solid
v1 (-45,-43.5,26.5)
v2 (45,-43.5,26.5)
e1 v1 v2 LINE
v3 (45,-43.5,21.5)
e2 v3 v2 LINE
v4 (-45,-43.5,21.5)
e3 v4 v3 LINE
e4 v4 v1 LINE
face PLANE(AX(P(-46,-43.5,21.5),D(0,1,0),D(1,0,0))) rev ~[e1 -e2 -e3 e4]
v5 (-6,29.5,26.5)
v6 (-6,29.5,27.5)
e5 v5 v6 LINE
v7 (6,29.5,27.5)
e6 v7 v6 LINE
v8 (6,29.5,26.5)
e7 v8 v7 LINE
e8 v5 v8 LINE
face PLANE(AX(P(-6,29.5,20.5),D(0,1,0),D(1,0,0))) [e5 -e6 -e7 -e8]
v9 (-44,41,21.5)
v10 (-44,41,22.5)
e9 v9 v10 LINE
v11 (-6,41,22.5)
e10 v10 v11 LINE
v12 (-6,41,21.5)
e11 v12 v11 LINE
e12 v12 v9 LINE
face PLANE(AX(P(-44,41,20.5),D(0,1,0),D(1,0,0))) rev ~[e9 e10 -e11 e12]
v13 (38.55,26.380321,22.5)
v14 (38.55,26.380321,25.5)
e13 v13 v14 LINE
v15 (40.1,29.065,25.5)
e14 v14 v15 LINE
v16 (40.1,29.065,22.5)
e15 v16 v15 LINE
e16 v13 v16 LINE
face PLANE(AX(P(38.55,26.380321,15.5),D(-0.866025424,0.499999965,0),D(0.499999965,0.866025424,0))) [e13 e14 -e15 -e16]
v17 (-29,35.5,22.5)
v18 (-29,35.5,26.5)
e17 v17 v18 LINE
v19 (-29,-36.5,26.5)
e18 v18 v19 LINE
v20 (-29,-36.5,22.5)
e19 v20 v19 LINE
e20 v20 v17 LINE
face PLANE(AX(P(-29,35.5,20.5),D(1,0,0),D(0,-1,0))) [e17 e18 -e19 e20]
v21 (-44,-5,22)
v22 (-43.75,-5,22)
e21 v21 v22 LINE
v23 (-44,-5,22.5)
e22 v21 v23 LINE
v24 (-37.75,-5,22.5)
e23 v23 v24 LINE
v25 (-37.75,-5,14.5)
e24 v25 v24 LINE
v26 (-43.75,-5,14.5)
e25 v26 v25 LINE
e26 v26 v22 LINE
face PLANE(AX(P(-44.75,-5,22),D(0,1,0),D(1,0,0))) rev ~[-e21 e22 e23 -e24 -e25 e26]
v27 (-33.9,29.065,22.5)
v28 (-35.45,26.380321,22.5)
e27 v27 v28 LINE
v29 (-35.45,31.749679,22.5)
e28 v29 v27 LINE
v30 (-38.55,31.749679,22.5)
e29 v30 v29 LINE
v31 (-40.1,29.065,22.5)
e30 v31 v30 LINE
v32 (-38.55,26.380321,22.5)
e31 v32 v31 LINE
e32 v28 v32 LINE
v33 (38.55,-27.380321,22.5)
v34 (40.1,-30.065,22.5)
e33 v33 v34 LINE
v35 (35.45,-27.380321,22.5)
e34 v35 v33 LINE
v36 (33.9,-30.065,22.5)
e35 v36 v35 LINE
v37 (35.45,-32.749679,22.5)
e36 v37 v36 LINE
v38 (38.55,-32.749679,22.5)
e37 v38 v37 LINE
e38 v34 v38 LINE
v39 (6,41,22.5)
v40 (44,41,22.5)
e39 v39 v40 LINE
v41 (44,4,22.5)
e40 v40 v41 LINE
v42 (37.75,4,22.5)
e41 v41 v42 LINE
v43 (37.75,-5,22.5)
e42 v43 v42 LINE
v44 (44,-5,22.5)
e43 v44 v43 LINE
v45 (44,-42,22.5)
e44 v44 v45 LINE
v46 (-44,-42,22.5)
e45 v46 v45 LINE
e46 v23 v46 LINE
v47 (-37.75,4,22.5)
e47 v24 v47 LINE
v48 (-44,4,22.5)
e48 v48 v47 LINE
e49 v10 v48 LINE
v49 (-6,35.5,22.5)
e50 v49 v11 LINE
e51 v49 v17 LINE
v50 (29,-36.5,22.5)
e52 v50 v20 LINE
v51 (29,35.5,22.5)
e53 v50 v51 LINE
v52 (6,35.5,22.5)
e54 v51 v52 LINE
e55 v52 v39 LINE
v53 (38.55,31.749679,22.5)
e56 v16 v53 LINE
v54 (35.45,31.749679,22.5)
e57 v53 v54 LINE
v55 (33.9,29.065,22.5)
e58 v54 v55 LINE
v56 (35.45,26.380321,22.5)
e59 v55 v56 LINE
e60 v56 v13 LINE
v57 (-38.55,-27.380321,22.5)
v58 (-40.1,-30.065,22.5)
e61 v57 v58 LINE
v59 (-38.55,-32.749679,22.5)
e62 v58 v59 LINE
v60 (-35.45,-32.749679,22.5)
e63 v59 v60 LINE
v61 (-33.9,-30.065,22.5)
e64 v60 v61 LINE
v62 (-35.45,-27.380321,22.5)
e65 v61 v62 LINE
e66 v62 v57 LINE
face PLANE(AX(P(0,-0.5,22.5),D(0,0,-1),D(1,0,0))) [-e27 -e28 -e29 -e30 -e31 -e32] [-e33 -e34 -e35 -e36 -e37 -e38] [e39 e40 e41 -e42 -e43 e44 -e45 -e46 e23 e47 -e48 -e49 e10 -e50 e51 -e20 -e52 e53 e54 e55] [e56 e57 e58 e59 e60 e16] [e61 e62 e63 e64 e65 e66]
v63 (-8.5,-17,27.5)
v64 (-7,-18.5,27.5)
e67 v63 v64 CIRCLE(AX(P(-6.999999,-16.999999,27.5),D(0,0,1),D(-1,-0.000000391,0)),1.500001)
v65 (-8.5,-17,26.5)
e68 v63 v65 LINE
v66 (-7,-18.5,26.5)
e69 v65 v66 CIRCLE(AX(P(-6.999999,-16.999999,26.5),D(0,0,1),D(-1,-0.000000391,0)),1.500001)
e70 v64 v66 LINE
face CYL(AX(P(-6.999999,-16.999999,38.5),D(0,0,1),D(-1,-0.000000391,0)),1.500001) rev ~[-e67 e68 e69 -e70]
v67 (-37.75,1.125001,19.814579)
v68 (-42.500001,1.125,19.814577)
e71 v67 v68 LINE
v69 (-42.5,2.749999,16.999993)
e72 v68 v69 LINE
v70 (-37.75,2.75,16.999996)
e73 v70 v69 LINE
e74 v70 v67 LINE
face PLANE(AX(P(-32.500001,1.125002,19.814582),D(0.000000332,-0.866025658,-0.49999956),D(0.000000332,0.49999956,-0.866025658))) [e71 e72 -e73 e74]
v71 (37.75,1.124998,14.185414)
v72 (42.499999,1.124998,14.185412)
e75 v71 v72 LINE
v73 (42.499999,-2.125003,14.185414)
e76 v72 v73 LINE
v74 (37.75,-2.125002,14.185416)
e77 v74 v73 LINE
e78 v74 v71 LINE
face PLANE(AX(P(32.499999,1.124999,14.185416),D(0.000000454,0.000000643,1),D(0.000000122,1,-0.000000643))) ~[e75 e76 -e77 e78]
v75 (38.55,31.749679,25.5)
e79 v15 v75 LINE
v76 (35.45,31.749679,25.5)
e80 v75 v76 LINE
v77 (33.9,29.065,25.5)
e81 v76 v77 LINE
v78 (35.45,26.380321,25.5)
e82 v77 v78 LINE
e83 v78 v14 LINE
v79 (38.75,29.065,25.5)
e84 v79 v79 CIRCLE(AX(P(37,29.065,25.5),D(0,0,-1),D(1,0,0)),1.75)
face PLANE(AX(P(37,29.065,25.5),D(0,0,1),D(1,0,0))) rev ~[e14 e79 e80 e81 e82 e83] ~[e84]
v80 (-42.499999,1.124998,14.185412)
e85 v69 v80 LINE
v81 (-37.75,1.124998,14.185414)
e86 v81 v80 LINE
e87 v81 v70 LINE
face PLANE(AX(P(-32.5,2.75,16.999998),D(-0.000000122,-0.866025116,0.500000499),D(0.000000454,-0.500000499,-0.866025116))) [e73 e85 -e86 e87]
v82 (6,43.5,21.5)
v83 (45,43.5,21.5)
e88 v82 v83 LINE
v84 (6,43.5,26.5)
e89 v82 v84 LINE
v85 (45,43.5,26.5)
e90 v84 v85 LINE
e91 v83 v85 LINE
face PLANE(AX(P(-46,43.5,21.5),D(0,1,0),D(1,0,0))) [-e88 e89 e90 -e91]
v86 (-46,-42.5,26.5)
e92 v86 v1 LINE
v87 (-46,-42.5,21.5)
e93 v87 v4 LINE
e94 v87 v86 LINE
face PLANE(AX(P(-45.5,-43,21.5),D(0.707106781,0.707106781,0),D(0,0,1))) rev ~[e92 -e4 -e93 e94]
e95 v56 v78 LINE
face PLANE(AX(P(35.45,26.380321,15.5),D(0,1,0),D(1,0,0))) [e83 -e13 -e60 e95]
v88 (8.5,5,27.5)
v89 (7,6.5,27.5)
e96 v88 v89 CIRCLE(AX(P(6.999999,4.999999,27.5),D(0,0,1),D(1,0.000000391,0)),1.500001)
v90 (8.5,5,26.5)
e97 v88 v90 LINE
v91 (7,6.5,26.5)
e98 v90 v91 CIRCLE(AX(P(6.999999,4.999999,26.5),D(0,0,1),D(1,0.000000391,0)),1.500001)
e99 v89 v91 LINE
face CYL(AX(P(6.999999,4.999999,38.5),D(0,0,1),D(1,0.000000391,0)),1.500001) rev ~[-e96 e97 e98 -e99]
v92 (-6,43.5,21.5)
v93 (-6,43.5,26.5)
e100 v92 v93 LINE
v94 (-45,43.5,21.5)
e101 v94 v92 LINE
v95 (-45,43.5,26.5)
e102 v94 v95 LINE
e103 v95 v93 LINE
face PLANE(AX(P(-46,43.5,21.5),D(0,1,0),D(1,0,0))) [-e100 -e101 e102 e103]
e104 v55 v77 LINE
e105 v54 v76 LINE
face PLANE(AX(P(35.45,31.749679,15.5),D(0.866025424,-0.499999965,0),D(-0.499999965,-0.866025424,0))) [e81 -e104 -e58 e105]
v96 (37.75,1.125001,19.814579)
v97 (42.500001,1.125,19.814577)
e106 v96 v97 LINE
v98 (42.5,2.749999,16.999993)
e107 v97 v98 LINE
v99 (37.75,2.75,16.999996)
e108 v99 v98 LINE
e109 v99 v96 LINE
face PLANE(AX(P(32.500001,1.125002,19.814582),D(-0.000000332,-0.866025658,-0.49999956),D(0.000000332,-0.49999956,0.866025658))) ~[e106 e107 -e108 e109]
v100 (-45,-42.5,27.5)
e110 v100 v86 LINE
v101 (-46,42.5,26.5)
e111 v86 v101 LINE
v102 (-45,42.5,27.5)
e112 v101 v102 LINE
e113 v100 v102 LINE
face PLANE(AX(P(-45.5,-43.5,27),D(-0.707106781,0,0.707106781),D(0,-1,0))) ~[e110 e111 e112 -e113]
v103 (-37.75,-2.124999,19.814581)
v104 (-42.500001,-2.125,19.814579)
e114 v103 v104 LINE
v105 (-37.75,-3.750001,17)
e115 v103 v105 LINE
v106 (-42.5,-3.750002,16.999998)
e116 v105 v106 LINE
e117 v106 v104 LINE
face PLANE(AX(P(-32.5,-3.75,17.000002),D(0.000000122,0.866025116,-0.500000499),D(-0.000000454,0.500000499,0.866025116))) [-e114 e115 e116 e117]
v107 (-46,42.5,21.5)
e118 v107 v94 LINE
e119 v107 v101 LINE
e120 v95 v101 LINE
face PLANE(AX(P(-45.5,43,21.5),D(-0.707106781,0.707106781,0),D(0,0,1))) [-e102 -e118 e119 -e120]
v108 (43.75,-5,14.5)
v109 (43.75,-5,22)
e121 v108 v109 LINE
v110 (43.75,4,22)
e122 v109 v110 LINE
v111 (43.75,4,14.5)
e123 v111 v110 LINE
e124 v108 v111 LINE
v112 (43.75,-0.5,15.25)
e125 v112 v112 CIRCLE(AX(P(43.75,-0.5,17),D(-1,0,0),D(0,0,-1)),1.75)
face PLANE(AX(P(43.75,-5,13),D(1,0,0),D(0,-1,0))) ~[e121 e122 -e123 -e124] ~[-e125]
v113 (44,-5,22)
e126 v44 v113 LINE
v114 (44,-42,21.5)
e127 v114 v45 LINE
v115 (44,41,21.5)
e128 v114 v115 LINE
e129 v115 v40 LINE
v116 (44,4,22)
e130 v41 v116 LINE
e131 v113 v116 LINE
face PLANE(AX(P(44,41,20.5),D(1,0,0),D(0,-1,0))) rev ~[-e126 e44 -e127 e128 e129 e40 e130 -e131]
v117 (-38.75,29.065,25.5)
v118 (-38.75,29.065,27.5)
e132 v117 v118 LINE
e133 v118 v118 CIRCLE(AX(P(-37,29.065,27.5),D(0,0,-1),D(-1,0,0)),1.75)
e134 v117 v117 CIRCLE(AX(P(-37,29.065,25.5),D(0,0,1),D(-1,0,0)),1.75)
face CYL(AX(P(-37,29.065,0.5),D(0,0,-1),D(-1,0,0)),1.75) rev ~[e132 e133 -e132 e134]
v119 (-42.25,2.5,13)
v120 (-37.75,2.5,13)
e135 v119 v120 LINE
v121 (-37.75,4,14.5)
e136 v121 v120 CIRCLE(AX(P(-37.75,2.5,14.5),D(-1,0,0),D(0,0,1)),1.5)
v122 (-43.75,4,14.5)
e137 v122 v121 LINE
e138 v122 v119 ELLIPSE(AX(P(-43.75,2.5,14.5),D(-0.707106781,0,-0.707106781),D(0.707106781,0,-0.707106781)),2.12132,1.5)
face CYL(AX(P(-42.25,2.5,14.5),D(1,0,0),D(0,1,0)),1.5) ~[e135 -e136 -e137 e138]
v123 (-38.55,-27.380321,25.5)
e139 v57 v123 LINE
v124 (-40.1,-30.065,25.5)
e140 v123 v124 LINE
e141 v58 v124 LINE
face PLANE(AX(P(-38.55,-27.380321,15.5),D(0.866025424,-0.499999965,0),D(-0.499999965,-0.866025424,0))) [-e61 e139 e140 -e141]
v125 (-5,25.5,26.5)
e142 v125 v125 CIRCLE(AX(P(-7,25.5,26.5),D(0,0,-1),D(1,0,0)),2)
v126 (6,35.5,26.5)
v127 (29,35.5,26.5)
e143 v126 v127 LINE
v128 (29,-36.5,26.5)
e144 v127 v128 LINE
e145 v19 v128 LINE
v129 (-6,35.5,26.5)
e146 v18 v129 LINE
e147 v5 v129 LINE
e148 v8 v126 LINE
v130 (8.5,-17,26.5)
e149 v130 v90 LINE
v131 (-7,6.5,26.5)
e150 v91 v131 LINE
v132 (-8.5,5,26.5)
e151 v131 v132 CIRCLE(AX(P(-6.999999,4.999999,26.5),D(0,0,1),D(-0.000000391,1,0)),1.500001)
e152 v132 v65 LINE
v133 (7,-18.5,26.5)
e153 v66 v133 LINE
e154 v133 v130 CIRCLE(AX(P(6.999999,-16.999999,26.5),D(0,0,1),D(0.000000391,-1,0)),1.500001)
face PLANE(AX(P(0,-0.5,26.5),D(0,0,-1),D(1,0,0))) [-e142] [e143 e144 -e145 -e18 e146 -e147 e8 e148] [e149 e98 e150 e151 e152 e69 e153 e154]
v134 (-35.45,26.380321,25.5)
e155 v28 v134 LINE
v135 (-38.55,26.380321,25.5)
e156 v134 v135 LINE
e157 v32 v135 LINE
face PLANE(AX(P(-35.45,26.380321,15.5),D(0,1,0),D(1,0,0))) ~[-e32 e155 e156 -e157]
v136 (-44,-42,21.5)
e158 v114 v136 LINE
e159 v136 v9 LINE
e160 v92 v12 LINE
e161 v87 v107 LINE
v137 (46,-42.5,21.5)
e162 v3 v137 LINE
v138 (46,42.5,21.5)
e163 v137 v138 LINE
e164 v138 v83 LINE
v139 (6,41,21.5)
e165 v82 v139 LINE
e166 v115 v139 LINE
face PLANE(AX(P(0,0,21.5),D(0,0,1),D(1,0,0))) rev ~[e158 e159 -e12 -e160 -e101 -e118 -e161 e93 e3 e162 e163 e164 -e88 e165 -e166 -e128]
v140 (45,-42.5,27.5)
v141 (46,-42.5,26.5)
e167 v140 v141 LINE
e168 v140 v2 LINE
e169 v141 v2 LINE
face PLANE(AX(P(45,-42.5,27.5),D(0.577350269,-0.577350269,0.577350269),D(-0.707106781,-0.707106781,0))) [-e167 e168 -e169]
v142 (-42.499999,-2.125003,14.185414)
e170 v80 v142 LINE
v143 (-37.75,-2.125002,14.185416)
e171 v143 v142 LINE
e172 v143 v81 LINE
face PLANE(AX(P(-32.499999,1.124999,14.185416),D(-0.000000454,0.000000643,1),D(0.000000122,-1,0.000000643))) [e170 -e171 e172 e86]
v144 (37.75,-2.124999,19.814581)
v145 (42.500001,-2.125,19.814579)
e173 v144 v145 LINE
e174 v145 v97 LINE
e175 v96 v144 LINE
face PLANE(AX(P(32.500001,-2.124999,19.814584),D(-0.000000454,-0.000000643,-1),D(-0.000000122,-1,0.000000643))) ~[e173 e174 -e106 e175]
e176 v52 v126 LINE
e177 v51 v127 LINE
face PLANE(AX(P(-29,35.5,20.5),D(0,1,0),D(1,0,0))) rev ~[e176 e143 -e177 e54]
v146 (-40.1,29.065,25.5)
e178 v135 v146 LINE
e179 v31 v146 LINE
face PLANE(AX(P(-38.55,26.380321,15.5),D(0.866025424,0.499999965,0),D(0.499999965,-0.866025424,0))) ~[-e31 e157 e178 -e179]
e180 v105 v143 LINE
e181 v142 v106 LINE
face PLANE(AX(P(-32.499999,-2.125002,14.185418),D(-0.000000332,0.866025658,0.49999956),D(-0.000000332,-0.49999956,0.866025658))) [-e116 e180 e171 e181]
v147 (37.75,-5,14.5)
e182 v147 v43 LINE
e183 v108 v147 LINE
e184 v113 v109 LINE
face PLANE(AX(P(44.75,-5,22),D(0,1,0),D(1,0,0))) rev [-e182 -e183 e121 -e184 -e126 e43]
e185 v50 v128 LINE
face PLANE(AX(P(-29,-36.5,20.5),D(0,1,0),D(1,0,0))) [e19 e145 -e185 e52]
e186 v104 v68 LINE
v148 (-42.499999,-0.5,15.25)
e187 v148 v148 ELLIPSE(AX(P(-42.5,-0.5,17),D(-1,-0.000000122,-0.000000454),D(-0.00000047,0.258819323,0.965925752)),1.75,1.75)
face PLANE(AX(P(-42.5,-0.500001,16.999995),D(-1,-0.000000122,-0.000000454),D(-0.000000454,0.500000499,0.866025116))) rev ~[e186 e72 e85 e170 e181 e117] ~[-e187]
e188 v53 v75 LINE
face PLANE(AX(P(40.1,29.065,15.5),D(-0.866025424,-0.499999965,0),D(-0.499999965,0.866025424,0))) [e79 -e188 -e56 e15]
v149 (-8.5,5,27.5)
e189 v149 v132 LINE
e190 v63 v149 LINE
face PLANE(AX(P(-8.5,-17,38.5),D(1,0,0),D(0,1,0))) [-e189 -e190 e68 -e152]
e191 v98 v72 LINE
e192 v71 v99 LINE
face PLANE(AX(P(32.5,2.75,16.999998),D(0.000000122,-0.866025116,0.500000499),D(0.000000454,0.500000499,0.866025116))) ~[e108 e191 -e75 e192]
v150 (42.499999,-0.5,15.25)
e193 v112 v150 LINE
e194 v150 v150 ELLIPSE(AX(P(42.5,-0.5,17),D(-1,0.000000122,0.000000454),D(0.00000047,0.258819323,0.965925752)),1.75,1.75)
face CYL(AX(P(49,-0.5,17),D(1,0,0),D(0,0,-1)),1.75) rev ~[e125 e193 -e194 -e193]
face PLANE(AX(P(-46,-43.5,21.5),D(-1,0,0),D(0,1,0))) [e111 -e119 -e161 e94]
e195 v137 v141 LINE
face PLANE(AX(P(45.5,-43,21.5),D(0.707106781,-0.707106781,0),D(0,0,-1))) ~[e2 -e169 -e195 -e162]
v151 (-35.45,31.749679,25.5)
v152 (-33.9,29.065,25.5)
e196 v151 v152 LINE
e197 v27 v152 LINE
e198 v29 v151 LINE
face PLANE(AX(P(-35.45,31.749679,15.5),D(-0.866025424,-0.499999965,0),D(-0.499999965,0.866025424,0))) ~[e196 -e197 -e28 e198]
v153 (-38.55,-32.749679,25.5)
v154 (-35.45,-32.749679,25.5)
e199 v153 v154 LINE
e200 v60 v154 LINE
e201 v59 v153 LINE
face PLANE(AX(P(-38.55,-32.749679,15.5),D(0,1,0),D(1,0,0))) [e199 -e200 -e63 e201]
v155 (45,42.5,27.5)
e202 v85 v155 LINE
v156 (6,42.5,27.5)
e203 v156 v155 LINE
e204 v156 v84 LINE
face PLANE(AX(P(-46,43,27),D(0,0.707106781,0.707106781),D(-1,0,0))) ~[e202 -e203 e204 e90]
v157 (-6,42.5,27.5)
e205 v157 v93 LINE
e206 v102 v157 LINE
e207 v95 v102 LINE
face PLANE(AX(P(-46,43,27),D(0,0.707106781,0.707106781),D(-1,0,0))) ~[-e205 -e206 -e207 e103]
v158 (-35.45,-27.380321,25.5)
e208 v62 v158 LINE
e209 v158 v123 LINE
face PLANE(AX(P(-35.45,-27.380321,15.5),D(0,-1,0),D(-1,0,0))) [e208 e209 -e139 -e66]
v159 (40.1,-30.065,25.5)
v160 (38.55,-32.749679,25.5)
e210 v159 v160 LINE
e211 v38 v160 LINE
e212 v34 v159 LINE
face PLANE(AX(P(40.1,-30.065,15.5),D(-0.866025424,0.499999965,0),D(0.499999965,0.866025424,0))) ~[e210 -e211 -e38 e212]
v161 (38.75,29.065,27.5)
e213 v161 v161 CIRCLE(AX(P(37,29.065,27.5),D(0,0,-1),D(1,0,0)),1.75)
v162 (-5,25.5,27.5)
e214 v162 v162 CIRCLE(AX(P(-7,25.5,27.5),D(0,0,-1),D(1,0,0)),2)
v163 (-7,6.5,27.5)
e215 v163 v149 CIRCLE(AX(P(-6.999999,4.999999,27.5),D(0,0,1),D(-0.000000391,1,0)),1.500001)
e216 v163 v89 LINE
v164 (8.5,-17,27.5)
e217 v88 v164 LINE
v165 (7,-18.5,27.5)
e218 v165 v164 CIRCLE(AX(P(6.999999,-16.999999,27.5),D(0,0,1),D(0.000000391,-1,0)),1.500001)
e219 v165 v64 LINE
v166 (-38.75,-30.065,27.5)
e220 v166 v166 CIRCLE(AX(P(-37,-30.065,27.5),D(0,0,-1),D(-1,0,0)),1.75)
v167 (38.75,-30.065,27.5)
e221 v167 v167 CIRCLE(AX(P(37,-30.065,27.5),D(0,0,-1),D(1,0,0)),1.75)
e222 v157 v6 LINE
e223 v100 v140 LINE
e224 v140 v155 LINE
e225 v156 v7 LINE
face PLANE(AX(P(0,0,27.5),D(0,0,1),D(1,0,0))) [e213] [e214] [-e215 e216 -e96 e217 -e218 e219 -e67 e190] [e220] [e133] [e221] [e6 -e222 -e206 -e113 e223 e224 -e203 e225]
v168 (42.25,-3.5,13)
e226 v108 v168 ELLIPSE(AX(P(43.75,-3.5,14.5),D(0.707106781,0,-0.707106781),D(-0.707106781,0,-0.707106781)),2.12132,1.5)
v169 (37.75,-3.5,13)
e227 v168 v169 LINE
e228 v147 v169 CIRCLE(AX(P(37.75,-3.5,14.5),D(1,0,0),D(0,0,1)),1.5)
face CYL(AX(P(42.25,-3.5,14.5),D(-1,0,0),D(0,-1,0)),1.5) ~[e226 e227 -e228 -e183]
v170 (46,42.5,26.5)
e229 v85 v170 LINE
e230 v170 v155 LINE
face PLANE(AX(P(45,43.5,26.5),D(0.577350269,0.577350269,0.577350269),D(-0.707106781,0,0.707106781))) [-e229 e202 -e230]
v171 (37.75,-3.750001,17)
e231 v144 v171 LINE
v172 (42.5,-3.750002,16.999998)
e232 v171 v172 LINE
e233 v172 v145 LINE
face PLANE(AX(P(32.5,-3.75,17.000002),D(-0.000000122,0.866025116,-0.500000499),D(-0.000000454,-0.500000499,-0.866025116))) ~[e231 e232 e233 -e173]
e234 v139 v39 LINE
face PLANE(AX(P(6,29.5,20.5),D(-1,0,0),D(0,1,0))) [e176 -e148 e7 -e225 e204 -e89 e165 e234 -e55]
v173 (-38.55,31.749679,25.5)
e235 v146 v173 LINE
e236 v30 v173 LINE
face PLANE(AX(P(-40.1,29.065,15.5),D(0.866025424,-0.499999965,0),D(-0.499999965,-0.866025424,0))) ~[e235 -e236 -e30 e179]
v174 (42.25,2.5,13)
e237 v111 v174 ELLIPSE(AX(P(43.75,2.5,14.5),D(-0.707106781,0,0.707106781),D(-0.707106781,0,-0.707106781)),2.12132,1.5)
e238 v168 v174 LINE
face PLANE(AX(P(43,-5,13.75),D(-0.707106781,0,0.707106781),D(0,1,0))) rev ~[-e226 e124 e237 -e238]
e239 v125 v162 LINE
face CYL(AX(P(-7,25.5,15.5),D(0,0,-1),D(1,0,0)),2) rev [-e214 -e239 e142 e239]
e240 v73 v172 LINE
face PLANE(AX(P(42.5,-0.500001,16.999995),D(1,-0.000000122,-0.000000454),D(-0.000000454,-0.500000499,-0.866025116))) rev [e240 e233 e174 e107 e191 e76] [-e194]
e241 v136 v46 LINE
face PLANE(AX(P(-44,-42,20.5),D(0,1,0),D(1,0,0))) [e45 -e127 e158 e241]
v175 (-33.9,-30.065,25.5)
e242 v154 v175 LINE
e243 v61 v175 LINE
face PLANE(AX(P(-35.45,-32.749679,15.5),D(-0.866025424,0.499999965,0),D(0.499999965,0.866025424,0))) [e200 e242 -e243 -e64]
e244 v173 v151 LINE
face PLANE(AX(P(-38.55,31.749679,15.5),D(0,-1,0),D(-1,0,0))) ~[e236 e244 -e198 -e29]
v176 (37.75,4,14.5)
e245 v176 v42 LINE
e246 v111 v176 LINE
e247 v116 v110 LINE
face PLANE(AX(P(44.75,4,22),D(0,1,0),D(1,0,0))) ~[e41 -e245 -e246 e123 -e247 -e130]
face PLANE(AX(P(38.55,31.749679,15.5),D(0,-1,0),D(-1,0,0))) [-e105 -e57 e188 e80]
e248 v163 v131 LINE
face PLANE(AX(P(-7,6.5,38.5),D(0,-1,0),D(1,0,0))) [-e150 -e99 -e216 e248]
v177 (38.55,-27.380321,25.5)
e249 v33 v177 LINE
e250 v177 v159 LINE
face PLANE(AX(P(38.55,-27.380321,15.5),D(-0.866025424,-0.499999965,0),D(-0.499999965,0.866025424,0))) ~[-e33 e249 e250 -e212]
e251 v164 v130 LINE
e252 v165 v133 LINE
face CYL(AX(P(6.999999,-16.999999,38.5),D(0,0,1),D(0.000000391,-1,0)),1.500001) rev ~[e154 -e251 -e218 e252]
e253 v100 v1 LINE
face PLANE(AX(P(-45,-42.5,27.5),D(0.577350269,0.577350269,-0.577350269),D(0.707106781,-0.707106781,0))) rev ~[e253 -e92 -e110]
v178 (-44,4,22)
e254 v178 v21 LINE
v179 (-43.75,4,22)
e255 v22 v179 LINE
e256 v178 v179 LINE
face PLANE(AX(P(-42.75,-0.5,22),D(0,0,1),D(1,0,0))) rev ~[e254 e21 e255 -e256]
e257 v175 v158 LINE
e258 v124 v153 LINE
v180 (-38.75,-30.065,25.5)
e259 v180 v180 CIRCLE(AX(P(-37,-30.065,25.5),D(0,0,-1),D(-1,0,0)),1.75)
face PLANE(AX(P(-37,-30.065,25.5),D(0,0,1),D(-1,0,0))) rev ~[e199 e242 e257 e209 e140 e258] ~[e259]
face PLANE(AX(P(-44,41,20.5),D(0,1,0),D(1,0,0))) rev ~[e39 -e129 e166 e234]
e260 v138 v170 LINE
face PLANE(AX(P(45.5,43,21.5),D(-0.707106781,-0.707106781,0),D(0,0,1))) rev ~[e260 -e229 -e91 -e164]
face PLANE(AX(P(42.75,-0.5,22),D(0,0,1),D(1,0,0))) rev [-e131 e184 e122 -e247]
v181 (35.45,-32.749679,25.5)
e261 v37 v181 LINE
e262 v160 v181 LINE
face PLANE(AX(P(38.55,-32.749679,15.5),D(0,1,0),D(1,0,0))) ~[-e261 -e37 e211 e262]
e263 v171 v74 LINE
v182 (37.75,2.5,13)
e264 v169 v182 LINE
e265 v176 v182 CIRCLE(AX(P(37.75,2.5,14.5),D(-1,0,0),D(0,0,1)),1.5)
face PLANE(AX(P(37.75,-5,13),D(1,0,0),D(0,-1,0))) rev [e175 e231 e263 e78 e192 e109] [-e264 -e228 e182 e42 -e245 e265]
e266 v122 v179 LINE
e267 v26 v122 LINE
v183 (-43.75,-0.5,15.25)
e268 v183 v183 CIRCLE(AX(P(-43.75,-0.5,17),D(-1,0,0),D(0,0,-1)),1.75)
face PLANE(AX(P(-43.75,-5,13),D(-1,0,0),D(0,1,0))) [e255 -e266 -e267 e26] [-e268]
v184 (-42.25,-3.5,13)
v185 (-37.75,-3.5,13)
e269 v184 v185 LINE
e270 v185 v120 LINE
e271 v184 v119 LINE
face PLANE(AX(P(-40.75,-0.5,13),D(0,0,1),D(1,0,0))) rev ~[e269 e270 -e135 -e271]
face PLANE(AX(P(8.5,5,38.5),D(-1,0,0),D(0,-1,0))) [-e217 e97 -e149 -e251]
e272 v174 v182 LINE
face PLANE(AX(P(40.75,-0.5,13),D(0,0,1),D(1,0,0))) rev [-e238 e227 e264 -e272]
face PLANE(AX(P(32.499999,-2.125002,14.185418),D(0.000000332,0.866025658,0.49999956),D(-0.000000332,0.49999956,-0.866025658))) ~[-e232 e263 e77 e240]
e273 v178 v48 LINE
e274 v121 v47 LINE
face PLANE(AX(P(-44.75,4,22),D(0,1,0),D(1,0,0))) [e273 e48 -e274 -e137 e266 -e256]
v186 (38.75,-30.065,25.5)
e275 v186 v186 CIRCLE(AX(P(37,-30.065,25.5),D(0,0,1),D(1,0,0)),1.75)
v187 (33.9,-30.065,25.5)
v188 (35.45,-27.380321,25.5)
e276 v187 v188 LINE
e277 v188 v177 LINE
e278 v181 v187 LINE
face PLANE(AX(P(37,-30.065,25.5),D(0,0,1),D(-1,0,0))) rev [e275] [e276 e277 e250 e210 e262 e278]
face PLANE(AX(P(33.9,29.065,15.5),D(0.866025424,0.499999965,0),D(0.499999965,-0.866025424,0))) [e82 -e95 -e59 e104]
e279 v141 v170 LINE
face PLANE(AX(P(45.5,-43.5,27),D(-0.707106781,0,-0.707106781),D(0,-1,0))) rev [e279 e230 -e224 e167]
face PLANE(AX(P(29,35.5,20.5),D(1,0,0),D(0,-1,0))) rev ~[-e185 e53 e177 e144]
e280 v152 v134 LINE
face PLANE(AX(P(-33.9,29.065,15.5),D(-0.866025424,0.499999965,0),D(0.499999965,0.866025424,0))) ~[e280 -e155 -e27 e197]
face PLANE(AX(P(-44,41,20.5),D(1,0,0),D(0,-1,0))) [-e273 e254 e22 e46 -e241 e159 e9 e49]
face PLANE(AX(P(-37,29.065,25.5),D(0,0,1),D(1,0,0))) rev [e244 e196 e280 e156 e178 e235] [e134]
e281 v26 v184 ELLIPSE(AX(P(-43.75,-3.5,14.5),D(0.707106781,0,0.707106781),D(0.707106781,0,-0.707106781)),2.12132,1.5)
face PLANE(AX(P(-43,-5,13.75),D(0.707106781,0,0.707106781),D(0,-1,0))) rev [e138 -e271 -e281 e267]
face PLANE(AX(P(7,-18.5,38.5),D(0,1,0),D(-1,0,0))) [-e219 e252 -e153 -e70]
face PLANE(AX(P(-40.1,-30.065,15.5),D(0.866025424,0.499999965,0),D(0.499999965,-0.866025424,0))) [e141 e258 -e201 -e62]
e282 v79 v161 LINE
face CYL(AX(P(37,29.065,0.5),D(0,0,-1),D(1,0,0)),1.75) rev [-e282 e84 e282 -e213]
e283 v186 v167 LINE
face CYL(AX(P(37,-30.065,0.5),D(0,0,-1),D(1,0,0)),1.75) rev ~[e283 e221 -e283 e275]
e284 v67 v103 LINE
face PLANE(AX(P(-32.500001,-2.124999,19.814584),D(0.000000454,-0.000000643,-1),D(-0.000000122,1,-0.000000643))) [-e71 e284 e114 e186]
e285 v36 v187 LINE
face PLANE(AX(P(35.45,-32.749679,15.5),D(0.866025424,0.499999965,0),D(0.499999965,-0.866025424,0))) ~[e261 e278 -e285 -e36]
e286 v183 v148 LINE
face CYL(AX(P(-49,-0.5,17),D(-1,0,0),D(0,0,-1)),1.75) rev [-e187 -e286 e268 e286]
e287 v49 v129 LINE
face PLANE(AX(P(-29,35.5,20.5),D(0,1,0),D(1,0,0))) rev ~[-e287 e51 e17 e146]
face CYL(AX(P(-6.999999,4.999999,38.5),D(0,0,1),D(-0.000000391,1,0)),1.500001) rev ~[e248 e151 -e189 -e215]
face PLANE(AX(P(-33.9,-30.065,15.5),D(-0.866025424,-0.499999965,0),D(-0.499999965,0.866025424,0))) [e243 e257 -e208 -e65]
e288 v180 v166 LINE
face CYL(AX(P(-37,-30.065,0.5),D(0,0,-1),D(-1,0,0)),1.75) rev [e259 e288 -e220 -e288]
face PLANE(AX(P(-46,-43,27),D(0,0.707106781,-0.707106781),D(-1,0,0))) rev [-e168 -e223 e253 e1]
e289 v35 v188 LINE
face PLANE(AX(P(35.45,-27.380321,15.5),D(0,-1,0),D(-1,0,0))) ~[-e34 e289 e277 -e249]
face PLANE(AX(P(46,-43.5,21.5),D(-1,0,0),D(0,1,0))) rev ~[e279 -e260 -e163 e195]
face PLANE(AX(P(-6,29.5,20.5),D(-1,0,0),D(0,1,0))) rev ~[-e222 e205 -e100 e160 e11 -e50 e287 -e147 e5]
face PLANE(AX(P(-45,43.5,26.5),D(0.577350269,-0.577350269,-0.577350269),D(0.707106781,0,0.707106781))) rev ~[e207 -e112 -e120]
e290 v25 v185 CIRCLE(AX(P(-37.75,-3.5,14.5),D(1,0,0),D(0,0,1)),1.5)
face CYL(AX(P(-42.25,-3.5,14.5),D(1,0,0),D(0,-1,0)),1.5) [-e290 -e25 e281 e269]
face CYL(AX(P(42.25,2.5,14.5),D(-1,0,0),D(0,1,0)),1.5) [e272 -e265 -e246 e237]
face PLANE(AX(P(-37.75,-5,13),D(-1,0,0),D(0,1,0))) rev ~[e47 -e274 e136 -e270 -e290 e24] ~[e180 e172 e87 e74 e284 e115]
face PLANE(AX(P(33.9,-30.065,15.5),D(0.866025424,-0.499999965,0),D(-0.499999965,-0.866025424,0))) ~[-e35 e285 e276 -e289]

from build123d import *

# Parameters (mm, degrees)
BOX023_W                 = 4
BOX023_H                 = 9
BOX023_DEPTH             = 3
PRISM015_DEPTH           = 10
PRISM015_ROLL_ANGLE      = -90.000052
PRISM015_PITCH_ANGLE     = -59.999967
PRISM015_PLACEMENT_ANGLE = 90.000052
CYLINDER032_R            = 1.75
CYLINDER032_DEPTH        = 68
CYLINDER032_PITCH_ANGLE  = 90
BOX022_W                 = 6
BOX022_H                 = 9
BOX022_DEPTH             = 11
CHAMFER020_SIZE          = 1.5
FILLET015_R              = 1.5
BOX021_W                 = 12
BOX021_H                 = 16
BOX021_DEPTH             = 10
CYLINDER033_R            = 2
CYLINDER033_DEPTH        = 15
PAD035009_DEPTH          = 35
CYLINDER034_R            = 1.75
CYLINDER034_DEPTH        = 50
PRISM012_DEPTH           = 10
SKETCH031_W              = 88
SKETCH031_H              = 83
PAD035007_DEPTH          = 2
SKETCH032_W              = 58
SKETCH032_H              = 72
PAD035008_DEPTH          = 6
BOX020_W                 = 92
BOX020_H                 = 87
BOX020_DEPTH             = 6
CHAMFER019_SIZE          = 1


with BuildPart() as cubo022:
    # Box023 → Box023 (new body)
    with BuildSketch(Plane(origin=(-29.75, -4.5, 23), x_dir=(1, 0, 0), z_dir=(0, 0, 1))):
        with Locations((2, 4.5)):
            Rectangle(BOX023_W, BOX023_H)
    extrude(amount=BOX023_DEPTH)


with BuildPart() as prisma015:
    # Prism015 → Prism015 (new body)
    with BuildSketch(Plane.XY):
        Polygon((3.25, 0), (1.625, 2.814583), (-1.625, 2.814583), (-3.25, 0), (-1.625, -2.814583), (1.625, -2.814583), align=None)
    extrude(amount=PRISM015_DEPTH)


with BuildPart() as prisma015_1:
    # Prism015 roll: moved
    add(prisma015.part.rotate(Axis((0, 0, 0), (1, 0, 0)), PRISM015_ROLL_ANGLE))


with BuildPart() as prisma015_2:
    # Prism015 pitch: moved
    add(prisma015_1.part.rotate(Axis((0, 0, 0), (0, 1, 0)), PRISM015_PITCH_ANGLE))


with BuildPart() as prisma015_3:
    # Prism015 placement: moved
    add(prisma015_2.part.moved(Location((-17.5, 0, 18))).rotate(Axis((-17.5, 0, 18), (0, 0, 1)), PRISM015_PLACEMENT_ANGLE))


with BuildPart() as cilindro027:
    # Cylinder032 → Cylinder032 (new body)
    with BuildSketch(Plane.XY):
        Circle(CYLINDER032_R)
    extrude(amount=CYLINDER032_DEPTH)


with BuildPart() as cilindro027_1:
    # Cylinder032 pitch: moved
    add(cilindro027.part.rotate(Axis((0, 0, 0), (0, 1, 0)), CYLINDER032_PITCH_ANGLE))


with BuildPart() as cilindro027_2:
    # Cylinder032 placement: moved
    add(cilindro027_1.part.moved(Location((-34, 0, 18))))


with BuildPart() as fusion039:
    # Box022 → Box022 (new body)
    with BuildSketch(Plane(origin=(-28.75, -4.5, 14), x_dir=(1, 0, 0), z_dir=(0, 0, 1))):
        with Locations((3, 4.5)):
            Rectangle(BOX022_W, BOX022_H)
    extrude(amount=BOX022_DEPTH)

    # Cut050: cut Cilindro027
    add(cilindro027_2.part, mode=Mode.SUBTRACT)

    # Chamfer020
    chamfer020_edges = [fusion039.edges().sort_by_distance(p)[0] for p in [
        (-28.75, 0, 14),
    ]]
    chamfer(chamfer020_edges, length=CHAMFER020_SIZE)

    # Fillet015
    fillet015_edges = [fusion039.edges().sort_by_distance(p)[0] for p in [
        (-25, -4.5, 14),
        (-25, 4.5, 14),
    ]]
    fillet(fillet015_edges, radius=FILLET015_R)

    # Cut051: cut Prisma015
    add(prisma015_3.part, mode=Mode.SUBTRACT)

    # Fusion039: union Cubo022
    add(cubo022.part)


with BuildPart() as fusion039_1:
    # Fusion039 placement: moved
    add(fusion039.part.moved(Location((-15, -0.5, -1))))


with BuildPart() as fusion044:
    # Part__Mirroring048: instance of Fusion039
    add(fusion039_1.part.mirror(Plane(origin=(0, 0, 0), x_dir=(0, -1, 0), z_dir=(1, 0, 0))))

    # Fusion044: union Fusion039
    add(fusion039_1.part)


with BuildPart() as fusion044_1:
    # Fusion044 placement: moved
    add(fusion044.part.moved(Location((0, 0, 1.5))))


with BuildPart() as back_cover_hole:
    # Box021 → Box021 (new body)
    with BuildSketch(Plane(origin=(-6, 30, 22), x_dir=(1, 0, 0), z_dir=(0, 0, 1))):
        with Locations((6, 8)):
            Rectangle(BOX021_W, BOX021_H)
    extrude(amount=BOX021_DEPTH)


with BuildPart() as fusion043:
    # Cylinder033 → Cylinder033 (new body)
    with BuildSketch(Plane(origin=(-7, 26, 17), x_dir=(1, 0, 0), z_dir=(0, 0, 1))):
        Circle(CYLINDER033_R)
    extrude(amount=CYLINDER033_DEPTH)

    # Fusion043: union back_cover_hole
    add(back_cover_hole.part)


with BuildPart() as hole_cover:
    # Sketch033 → Pad035009 (new body)
    with BuildSketch(Plane.XY.offset(40)):
        with BuildLine():
            Line((-7, 7), (7, 7))
            ThreePointArc((8.5, 5.5), (8.06066, 6.56066), (7, 7))
            Line((8.5, 5.5), (8.5, -16.5))
            ThreePointArc((7, -18), (8.06066, -17.56066), (8.5, -16.5))
            Line((7, -18), (-7, -18))
            ThreePointArc((-8.5, -16.5), (-8.06066, -17.56066), (-7, -18))
            Line((-8.5, -16.5), (-8.5, 5.5))
            ThreePointArc((-7, 7), (-8.06066, 6.56066), (-8.5, 5.5))
        make_face()
    extrude(amount=-PAD035009_DEPTH)


with BuildPart() as cilindro:
    # Cylinder034 → Cylinder034 (new body)
    with BuildSketch(Plane.XY.offset(-15)):
        Circle(CYLINDER034_R)
    extrude(amount=CYLINDER034_DEPTH)


with BuildPart() as screw_nut_hole:
    # Prism012 → Prism012 (new body)
    with BuildSketch(Plane.XY):
        Polygon((3.1, 0), (1.55, 2.684679), (-1.55, 2.684679), (-3.1, 0), (-1.55, -2.684679), (1.55, -2.684679), align=None)
    extrude(amount=PRISM012_DEPTH)

    # Fusion041: union Cilindro
    add(cilindro.part)


with BuildPart() as screw_nut_hole_1:
    # Fusion041 placement: moved
    add(screw_nut_hole.part.moved(Location((37, 29.565, 9.5))))


with BuildPart() as part_mirroring049:
    # Part__Mirroring049: instance of screw_nut_hole
    add(screw_nut_hole_1.part.mirror(Plane(origin=(0, 0, 0), x_dir=(0, -1, 0), z_dir=(1, 0, 0))))


with BuildPart() as part_mirroring050:
    # Part__Mirroring050: instance of Part__Mirroring049
    add(part_mirroring049.part.mirror(Plane(origin=(0, 0, 0), x_dir=(1, 0, 0), z_dir=(0, 1, 0))))


with BuildPart() as screw_nuts_holes:
    # Part__Mirroring051: instance of screw_nut_hole
    add(screw_nut_hole_1.part.mirror(Plane(origin=(0, 0, 0), x_dir=(1, 0, 0), z_dir=(0, 1, 0))))

    # Fusion042: union screw_nut_hole, Part__Mirroring049, Part__Mirroring050
    add(screw_nut_hole_1.part)
    add(part_mirroring049.part)
    add(part_mirroring050.part)


with BuildPart() as screw_nuts_holes_1:
    # Fusion042 placement: moved
    add(screw_nuts_holes.part.moved(Location((0, 0, 7.5))))


with BuildPart() as pad035007:
    # Sketch031 → Pad035007 (new body)
    with BuildSketch(Plane(origin=(0, 0, 23), x_dir=(1, 0, 0), z_dir=(0, 0, -1))):
        Rectangle(SKETCH031_W, SKETCH031_H)
    extrude(amount=-PAD035007_DEPTH)


with BuildPart() as down_cover_base:
    # Sketch032 → Pad035008 (new body)
    with BuildSketch(Plane(origin=(0, 0, 23), x_dir=(1, 0, 0), z_dir=(0, 0, -1))):
        Rectangle(SKETCH032_W, SKETCH032_H)
    extrude(amount=-PAD035008_DEPTH)

    # Fusion037: union Pad035007
    add(pad035007.part)


with BuildPart() as down_cover_base_1:
    # Fusion037 placement: moved
    add(down_cover_base.part.moved(Location((0, 0, -1))))


with BuildPart() as cover:
    # Box020 → Box020 (new body)
    with BuildSketch(Plane(origin=(-46, -43, 23), x_dir=(1, 0, 0), z_dir=(0, 0, 1))):
        with Locations((46, 43.5)):
            Rectangle(BOX020_W, BOX020_H)
    extrude(amount=BOX020_DEPTH)

    # Chamfer019
    chamfer019_edges = [cover.edges().sort_by_distance(p)[0] for p in [
        (-46, -43, 26),
        (-46, 0.5, 29),
        (-46, 44, 26),
        (46, -43, 26),
        (46, 0.5, 29),
        (46, 44, 26),
        (0, -43, 29),
        (0, 44, 29),
    ]]
    chamfer(chamfer019_edges, length=CHAMFER019_SIZE)

    # Cut052: cut down_cover_base
    add(down_cover_base_1.part, mode=Mode.SUBTRACT)

    # Cut053: cut screw_nuts_holes
    add(screw_nuts_holes_1.part, mode=Mode.SUBTRACT)

    # Cut054: cut hole_cover
    add(hole_cover.part, mode=Mode.SUBTRACT)

    # Cut055: cut Fusion043
    add(fusion043.part, mode=Mode.SUBTRACT)


with BuildPart() as cover_1:
    # Cut055 placement: moved
    add(cover.part.moved(Location((0, -0.5, 0))))

    # Fusion045: union Fusion044
    add(fusion044_1.part)


with BuildPart() as cover_2:
    # Fusion045 placement: moved
    add(cover_1.part.moved(Location((0, 0, -1.5))))


solid = cover_2.part
